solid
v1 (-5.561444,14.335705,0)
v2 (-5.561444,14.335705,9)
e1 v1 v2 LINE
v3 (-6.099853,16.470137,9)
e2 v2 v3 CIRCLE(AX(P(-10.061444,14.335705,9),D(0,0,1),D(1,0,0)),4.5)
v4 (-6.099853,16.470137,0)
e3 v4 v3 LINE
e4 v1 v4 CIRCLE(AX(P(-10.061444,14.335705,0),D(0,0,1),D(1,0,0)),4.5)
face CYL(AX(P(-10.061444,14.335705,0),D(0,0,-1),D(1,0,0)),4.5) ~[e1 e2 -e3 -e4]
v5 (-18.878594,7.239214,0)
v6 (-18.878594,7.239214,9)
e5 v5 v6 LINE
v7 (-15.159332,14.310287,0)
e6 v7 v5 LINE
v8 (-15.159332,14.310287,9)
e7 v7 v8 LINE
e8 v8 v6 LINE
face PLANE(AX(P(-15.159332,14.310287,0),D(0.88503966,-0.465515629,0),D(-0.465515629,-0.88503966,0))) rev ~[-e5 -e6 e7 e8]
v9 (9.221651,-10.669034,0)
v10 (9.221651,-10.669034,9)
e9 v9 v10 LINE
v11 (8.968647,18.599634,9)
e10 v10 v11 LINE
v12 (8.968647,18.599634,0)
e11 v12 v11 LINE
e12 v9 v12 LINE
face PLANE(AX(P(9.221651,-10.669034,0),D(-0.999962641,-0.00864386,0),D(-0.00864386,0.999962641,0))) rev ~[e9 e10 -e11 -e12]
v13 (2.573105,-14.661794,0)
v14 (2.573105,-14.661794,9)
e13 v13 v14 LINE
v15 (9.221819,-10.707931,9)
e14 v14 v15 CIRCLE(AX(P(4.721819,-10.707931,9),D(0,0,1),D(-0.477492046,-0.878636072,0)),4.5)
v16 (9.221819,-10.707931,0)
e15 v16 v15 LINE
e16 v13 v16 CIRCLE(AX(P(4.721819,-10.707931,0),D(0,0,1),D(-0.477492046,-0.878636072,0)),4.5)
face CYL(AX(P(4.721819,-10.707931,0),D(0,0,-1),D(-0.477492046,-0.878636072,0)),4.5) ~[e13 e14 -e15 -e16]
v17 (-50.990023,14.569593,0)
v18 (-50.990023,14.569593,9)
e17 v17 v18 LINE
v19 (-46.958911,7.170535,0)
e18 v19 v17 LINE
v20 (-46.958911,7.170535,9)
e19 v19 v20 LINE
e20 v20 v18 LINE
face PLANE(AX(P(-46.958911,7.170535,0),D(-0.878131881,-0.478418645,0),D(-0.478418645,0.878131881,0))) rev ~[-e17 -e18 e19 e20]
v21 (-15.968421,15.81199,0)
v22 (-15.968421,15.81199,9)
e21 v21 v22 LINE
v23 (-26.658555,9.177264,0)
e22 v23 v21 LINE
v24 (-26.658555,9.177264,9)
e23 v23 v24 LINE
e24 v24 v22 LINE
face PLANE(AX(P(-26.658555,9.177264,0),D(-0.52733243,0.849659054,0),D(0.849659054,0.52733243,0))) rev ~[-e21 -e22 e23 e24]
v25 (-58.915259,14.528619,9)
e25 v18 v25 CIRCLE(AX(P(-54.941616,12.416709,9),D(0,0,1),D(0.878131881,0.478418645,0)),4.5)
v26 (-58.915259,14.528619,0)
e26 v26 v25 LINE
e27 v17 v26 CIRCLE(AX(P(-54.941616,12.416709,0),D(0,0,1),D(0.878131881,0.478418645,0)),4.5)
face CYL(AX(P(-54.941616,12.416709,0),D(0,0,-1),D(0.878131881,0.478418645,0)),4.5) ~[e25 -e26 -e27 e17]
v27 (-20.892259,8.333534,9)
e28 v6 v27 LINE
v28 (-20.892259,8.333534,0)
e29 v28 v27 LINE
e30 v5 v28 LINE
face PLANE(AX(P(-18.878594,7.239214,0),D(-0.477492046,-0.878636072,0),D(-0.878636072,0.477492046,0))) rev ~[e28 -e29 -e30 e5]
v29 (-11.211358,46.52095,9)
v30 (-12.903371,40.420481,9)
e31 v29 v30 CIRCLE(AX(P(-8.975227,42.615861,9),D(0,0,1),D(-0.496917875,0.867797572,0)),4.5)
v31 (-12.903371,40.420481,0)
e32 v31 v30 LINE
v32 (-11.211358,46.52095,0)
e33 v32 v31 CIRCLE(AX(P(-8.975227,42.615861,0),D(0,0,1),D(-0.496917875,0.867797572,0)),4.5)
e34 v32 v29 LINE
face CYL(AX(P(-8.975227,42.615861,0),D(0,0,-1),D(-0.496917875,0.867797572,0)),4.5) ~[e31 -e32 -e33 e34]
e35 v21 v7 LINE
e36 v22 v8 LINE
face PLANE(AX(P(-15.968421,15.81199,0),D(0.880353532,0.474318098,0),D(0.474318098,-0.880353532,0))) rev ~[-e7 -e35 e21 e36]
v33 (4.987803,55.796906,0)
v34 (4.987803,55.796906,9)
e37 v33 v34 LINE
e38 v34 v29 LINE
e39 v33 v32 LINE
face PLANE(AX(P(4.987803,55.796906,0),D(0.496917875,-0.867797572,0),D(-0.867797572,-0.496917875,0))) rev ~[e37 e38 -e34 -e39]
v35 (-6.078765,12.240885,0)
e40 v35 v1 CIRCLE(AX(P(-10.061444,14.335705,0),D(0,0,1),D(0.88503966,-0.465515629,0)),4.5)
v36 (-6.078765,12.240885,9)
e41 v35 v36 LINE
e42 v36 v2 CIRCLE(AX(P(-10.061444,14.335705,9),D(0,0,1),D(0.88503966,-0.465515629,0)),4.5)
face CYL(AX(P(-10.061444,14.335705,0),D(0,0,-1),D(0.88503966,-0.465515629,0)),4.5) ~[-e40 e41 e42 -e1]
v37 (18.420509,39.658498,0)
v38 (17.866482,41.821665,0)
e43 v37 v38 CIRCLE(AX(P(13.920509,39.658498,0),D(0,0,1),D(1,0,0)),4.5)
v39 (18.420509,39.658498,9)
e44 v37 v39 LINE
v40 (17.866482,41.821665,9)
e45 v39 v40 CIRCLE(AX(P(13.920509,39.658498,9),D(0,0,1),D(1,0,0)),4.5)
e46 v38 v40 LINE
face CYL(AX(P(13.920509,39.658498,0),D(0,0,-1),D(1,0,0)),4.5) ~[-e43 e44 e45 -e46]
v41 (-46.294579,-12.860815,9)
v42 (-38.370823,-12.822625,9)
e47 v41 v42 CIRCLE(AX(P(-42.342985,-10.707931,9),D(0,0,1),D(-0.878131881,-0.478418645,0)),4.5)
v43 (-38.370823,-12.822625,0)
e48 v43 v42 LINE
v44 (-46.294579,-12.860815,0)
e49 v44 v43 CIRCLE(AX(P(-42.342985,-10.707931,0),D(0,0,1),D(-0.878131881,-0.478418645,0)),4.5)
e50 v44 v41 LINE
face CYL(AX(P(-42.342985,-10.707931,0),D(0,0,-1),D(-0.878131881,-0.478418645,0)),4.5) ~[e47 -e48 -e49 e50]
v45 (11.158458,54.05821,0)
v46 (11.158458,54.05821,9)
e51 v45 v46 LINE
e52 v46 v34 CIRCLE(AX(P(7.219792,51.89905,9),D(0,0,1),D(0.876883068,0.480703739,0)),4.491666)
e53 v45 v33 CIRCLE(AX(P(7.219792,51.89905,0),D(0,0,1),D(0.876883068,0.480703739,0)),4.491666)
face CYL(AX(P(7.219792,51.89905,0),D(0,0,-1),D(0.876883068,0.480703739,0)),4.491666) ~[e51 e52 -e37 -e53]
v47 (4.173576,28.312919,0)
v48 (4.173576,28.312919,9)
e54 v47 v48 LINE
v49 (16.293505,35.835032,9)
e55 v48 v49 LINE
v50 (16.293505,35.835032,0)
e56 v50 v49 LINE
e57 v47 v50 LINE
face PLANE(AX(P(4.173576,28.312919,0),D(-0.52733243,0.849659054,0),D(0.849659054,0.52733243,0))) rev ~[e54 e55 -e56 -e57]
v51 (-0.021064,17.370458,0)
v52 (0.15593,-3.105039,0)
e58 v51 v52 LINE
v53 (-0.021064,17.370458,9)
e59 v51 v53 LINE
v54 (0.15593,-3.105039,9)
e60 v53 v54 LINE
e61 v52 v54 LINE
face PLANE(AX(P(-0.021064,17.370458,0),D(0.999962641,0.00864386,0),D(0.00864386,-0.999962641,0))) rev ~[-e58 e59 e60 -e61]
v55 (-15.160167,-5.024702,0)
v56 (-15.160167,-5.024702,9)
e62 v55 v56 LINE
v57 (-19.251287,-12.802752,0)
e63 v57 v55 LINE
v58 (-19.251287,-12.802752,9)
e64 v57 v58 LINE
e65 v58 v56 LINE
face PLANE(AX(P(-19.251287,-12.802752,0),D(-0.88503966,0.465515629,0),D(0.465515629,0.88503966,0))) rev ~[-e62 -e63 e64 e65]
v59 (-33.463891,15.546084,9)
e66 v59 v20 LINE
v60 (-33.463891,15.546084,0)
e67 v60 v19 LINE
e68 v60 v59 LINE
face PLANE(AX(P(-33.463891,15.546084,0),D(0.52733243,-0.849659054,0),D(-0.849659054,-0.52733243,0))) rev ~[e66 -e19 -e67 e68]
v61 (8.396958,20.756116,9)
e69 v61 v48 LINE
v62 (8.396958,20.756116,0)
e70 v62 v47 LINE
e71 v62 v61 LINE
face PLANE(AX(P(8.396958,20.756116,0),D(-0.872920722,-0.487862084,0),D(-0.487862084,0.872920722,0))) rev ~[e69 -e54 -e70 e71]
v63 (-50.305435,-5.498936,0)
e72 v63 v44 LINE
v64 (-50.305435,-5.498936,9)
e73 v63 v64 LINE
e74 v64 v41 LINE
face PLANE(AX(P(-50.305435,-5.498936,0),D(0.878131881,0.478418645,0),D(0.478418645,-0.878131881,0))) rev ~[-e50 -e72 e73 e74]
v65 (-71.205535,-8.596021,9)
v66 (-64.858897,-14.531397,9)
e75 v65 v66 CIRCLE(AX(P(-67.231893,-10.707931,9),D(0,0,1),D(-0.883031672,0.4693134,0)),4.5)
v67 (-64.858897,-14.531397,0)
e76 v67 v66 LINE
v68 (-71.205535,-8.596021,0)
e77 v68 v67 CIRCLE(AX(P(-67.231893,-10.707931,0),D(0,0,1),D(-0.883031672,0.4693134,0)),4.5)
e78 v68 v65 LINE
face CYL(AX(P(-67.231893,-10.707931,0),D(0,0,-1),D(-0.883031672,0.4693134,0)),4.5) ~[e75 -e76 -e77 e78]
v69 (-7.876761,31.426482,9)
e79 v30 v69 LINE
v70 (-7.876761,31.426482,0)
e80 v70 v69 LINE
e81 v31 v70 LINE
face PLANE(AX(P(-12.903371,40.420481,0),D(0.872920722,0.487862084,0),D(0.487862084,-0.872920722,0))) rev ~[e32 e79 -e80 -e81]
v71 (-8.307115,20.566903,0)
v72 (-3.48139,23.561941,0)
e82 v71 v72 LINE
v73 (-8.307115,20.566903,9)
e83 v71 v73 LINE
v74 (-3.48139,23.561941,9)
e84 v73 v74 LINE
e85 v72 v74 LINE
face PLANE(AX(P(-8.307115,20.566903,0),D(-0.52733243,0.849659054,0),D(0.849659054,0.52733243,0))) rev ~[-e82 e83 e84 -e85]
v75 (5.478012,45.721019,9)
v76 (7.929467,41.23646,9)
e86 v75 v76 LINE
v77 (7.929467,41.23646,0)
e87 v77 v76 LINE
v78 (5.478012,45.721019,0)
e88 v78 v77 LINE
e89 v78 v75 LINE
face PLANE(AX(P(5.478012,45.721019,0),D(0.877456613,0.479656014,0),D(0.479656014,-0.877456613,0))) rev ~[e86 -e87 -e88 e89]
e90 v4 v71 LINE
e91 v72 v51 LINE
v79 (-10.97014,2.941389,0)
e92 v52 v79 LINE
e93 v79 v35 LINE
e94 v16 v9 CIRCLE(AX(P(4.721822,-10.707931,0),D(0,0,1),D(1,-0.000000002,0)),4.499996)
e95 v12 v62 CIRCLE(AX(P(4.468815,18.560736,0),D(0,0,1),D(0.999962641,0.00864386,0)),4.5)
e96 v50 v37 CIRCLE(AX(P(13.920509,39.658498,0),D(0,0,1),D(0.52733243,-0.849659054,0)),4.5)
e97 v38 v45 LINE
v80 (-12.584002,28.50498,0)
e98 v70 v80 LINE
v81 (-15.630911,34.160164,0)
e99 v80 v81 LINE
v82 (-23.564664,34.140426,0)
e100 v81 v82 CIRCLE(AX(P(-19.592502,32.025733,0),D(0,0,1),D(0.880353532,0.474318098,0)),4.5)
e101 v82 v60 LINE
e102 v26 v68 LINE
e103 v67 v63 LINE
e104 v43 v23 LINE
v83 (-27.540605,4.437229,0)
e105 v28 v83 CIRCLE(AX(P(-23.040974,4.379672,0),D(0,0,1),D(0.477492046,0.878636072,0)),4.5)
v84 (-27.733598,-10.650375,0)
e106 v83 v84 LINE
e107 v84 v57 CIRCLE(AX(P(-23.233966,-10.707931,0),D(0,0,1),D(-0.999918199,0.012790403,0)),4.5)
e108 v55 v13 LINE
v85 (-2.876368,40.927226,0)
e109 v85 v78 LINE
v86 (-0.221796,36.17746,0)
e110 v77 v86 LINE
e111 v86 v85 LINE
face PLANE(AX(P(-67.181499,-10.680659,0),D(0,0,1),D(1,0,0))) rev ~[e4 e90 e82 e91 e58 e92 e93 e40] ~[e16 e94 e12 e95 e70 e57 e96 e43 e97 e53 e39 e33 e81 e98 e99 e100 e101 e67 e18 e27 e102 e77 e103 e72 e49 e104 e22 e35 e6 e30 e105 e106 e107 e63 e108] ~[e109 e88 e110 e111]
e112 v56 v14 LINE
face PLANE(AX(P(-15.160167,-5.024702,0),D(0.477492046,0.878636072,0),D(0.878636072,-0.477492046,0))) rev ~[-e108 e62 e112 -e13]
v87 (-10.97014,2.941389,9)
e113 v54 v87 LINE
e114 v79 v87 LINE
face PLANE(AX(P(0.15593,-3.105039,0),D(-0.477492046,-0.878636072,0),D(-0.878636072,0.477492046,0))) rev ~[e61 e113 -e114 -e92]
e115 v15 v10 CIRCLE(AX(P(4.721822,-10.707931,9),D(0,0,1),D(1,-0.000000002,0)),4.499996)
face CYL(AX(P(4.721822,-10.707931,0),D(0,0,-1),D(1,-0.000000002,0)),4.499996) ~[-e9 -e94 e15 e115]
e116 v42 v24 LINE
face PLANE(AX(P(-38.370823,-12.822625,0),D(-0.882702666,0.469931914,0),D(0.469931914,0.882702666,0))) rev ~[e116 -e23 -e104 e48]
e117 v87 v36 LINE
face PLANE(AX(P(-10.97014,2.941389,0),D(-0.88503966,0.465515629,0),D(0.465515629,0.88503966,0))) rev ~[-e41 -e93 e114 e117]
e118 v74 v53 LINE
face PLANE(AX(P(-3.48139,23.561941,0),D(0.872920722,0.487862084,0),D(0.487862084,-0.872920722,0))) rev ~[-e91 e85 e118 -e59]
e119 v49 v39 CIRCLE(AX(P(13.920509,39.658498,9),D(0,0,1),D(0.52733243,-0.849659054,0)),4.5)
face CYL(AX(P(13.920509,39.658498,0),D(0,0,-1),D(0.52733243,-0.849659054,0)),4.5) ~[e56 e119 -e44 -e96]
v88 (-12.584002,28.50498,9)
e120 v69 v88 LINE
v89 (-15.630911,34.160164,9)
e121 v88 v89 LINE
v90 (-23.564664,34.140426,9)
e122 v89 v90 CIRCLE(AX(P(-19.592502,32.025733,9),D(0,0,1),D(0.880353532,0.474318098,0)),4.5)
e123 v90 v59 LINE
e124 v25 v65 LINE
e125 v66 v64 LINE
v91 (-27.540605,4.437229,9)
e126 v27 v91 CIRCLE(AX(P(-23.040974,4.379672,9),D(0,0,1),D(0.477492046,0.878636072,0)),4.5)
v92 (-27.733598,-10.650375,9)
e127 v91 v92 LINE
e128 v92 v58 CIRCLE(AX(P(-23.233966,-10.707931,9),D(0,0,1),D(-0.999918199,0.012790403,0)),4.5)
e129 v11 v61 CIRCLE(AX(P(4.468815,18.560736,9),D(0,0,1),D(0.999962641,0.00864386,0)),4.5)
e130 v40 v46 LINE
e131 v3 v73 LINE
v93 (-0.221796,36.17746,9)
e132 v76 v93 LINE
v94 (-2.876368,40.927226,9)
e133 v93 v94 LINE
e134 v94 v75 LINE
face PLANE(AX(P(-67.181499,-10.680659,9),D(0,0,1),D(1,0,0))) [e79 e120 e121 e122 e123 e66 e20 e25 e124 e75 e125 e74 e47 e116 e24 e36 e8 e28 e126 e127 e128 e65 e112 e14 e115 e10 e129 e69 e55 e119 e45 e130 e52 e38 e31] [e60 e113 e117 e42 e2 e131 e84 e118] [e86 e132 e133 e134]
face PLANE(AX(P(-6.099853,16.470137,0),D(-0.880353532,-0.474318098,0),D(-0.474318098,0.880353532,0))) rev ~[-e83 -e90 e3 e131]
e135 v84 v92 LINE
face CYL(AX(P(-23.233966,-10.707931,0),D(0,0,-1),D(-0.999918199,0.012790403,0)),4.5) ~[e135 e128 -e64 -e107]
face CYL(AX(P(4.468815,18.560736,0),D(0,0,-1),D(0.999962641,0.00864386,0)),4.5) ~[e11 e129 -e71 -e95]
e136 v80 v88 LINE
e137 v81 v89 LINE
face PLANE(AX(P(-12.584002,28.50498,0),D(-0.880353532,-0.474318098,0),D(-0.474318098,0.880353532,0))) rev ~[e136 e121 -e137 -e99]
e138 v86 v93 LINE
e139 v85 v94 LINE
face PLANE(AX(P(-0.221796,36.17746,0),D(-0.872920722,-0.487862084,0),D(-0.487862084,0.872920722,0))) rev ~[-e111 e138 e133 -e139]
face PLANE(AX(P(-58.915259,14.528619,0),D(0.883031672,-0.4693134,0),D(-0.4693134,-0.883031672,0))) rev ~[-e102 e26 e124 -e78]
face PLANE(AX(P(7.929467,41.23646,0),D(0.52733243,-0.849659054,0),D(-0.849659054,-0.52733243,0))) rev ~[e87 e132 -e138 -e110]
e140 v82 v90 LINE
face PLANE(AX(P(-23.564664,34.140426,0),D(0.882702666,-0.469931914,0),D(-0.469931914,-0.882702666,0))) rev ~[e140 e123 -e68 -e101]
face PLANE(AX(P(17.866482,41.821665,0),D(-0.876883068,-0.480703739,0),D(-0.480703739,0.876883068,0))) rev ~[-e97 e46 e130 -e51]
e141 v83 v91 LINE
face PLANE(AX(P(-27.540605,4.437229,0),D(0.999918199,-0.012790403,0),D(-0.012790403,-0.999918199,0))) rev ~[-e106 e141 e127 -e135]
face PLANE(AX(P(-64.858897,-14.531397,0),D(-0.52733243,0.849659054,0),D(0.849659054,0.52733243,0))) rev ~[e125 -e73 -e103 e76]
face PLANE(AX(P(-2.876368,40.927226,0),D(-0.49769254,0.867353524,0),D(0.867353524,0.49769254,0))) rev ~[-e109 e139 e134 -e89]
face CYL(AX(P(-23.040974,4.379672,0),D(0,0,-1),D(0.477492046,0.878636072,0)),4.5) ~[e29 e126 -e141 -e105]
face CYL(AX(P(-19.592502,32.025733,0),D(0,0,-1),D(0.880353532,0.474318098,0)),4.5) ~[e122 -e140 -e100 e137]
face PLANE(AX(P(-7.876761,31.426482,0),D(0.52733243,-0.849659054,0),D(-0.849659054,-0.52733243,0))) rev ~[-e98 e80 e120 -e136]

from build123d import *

# Parameters (mm, degrees)
F1_DEPTH = 9


with BuildPart() as f1:
    # F0 (on Top) → F1 (new body)
    with BuildSketch(Plane.XY):
        with BuildLine():
            ThreePointArc((-69.6048887702, -6.8844657511), (-70.5185796828, -7.6342220802), (-71.2055353566, -8.596021196))
            ThreePointArc((-71.2055353566, -8.596021196), (-70.3056022489, -13.9946183424), (-64.8588968993, -14.5313972377))
            ThreePointArc((-64.8588968993, -14.5313972377), (-63.9452059866, -13.7816409086), (-63.2582503128, -12.8198417928))
            ThreePointArc((-63.2582503128, -12.8198417928), (-62.8654645834, -11.7961889666), (-62.7318928347, -10.7079314944))
            ThreePointArc((-62.7318928347, -10.7079314944), (-65.0442550344, -6.7754715957), (-69.6048887702, -6.8844657511))
        make_face()
        with BuildLine():
            Line((-63.2582503128, -12.8198417928), (-55.4270514125, 1.9148678069))
            Line((-55.4270514125, 1.9148678069), (-69.6048887702, -6.8844657511))
            ThreePointArc((-69.6048887702, -6.8844657511), (-65.0442550344, -6.7754715957), (-62.7318928347, -10.7079314944))
            ThreePointArc((-62.7318928347, -10.7079314944), (-62.8654645834, -11.7961889666), (-63.2582503128, -12.8198417928))
        make_face()
        with BuildLine():
            ThreePointArc((-58.8932094419, 10.2638252445), (-59.4415558397, 12.3934443823), (-58.9152585008, 14.5286194466))
            Line((-58.9152585008, 14.5286194466), (-71.2055353566, -8.596021196))
            ThreePointArc((-71.2055353566, -8.596021196), (-70.5185796828, -7.6342220802), (-69.6048887702, -6.8844657511))
            Line((-69.6048887702, -6.8844657511), (-55.4270514125, 1.9148678069))
            Line((-55.4270514125, 1.9148678069), (-54.8925209734, 2.9206079104))
            Line((-54.8925209734, 2.9206079104), (-58.8932094419, 10.2638252445))
        make_face()
        with BuildLine():
            Line((-54.8925209734, 2.9206079104), (-50.967973457, 10.3047988498))
            ThreePointArc((-50.967973457, 10.3047988498), (-54.918351213, 7.9167692874), (-58.8932094419, 10.2638252445))
            Line((-58.8932094419, 10.2638252445), (-54.8925209734, 2.9206079104))
        make_face()
        with BuildLine():
            ThreePointArc((-50.967973457, 10.3047988498), (-50.5751877275, 11.328451676), (-50.4416159789, 12.4167091482))
            ThreePointArc((-50.4416159789, 12.4167091482), (-50.5808723162, 13.5275262835), (-50.9900225159, 14.5695930519))
            ThreePointArc((-50.9900225159, 14.5695930519), (-54.9648807448, 16.916649009), (-58.9152585008, 14.5286194466))
            ThreePointArc((-58.9152585008, 14.5286194466), (-59.4415558397, 12.3934443823), (-58.8932094419, 10.2638252445))
            ThreePointArc((-58.8932094419, 10.2638252445), (-54.918351213, 7.9167692874), (-50.967973457, 10.3047988498))
        make_face()
        with BuildLine():
            ThreePointArc((-50.9900225159, 14.5695930519), (-50.5808723162, 13.5275262835), (-50.4416159789, 12.4167091482))
            ThreePointArc((-50.4416159789, 12.4167091482), (-50.5751877275, 11.328451676), (-50.967973457, 10.3047988498))
            Line((-50.967973457, 10.3047988498), (-54.8925209734, 2.9206079104))
            Line((-54.8925209734, 2.9206079104), (-54.6181097925, 2.4169293671))
            Line((-54.6181097925, 2.4169293671), (-46.9589111027, 7.1705347555))
            Line((-46.9589111027, 7.1705347555), (-50.9900225159, 14.5695930519))
        make_face()
        Polygon((-42.646235985, -0.7453304586), (-46.9589111027, 7.1705347555), (-54.6181097925, 2.4169293671), (-50.3054346748, -5.498935847), align=None)
        Polygon((-54.6181097925, 2.4169293671), (-54.8925209734, 2.9206079104), (-55.4270514125, 1.9148678069), align=None)
        with BuildLine():
            Line((-50.3054346748, -5.498935847), (-54.6181097925, 2.4169293671))
            Line((-54.6181097925, 2.4169293671), (-55.4270514125, 1.9148678069))
            Line((-55.4270514125, 1.9148678069), (-63.2582503128, -12.8198417928))
            ThreePointArc((-63.2582503128, -12.8198417928), (-63.9452059866, -13.7816409086), (-64.8588968993, -14.5313972377))
            Line((-64.8588968993, -14.5313972377), (-50.3054346748, -5.498935847))
        make_face()
        Polygon((-33.4638913069, 15.546084394), (-46.9589111027, 7.1705347555), (-42.646235985, -0.7453304586), (-41.8858454209, -0.2734016278), align=None)
        with BuildLine():
            Line((-42.3887241717, -1.2179904086), (-42.646235985, -0.7453304586))
            Line((-42.646235985, -0.7453304586), (-50.3054346748, -5.498935847))
            Line((-50.3054346748, -5.498935847), (-46.294578767, -12.8608153981))
            ThreePointArc((-46.294578767, -12.8608153981), (-46.842933038, -10.7296199867), (-46.3151472997, -8.5932378807))
            Line((-46.3151472997, -8.5932378807), (-42.3887241717, -1.2179904086))
        make_face()
        Polygon((-41.8858454209, -0.2734016278), (-42.646235985, -0.7453304586), (-42.3887241717, -1.2179904086), align=None)
        with BuildLine():
            Line((-38.3913918409, -8.5550475907), (-42.3887241717, -1.2179904086))
            Line((-42.3887241717, -1.2179904086), (-46.3151472997, -8.5932378807))
            ThreePointArc((-46.3151472997, -8.5932378807), (-42.3646737963, -6.2079837603), (-38.3913918409, -8.5550475907))
        make_face()
        with BuildLine():
            Line((-41.8858454209, -0.2734016278), (-42.3887241717, -1.2179904086))
            Line((-42.3887241717, -1.2179904086), (-38.3913918409, -8.5550475907))
            ThreePointArc((-38.3913918409, -8.5550475907), (-37.9822416413, -9.5971143591), (-37.842985304, -10.7079314944))
            ThreePointArc((-37.842985304, -10.7079314944), (-37.9769385234, -11.7977184046), (-38.3708233082, -12.822625108))
            Line((-38.3708233082, -12.822625108), (-26.6585553592, 9.1772642994))
            Line((-26.6585553592, 9.1772642994), (-41.8858454209, -0.2734016278))
        make_face()
        Polygon((-20.2453090448, 23.7500658302), (-33.4638913069, 15.546084394), (-41.8858454209, -0.2734016278), (-26.6585553592, 9.1772642994), (-19.5687892579, 22.4944178032), align=None)
        with BuildLine():
            ThreePointArc((-37.842985304, -10.7079314944), (-37.9822416413, -9.5971143591), (-38.3913918409, -8.5550475907))
            ThreePointArc((-38.3913918409, -8.5550475907), (-42.3646737963, -6.2079837603), (-46.3151472997, -8.5932378807))
            ThreePointArc((-46.3151472997, -8.5932378807), (-46.842933038, -10.7296199867), (-46.294578767, -12.8608153981))
            ThreePointArc((-46.294578767, -12.8608153981), (-42.3212968117, -15.2078792285), (-38.3708233082, -12.822625108))
            ThreePointArc((-38.3708233082, -12.822625108), (-37.9769385234, -11.7977184046), (-37.842985304, -10.7079314944))
        make_face()
        with BuildLine():
            ThreePointArc((-27.216644297, -8.613111165), (-27.5957324364, -9.6011379034), (-27.7335977255, -10.650374681))
            ThreePointArc((-27.7335977255, -10.650374681), (-24.3407594189, -15.0696981029), (-19.2512873589, -12.8027518237))
            ThreePointArc((-19.2512873589, -12.8027518237), (-18.8721992194, -11.8147250853), (-18.7343339304, -10.7654883078))
            ThreePointArc((-18.7343339304, -10.7654883078), (-18.7340578545, -10.7367104896), (-18.7339658279, -10.7079314944))
            ThreePointArc((-18.7339658279, -10.7079314944), (-22.1550898181, -6.3391757728), (-27.216644297, -8.613111165))
        make_face()
        with BuildLine():
            Line((-18.6367336981, -3.1353730797), (-23.0686211662, -0.7268775915))
            Line((-23.0686211662, -0.7268775915), (-27.216644297, -8.613111165))
            ThreePointArc((-27.216644297, -8.613111165), (-22.1550898181, -6.3391757728), (-18.7339658279, -10.7079314944))
            ThreePointArc((-18.7339658279, -10.7079314944), (-18.7340578545, -10.7367104896), (-18.7343339304, -10.7654883078))
            Line((-18.7343339304, -10.7654883078), (-18.6367336981, -3.1353730797))
        make_face()
        with BuildLine():
            ThreePointArc((-25.1896877217, 0.4258094445), (-26.9233693413, 2.1043690059), (-27.5406054129, 4.4372285797))
            Line((-27.5406054129, 4.4372285797), (-27.7335977255, -10.650374681))
            ThreePointArc((-27.7335977255, -10.650374681), (-27.5957324364, -9.6011379034), (-27.216644297, -8.613111165))
            Line((-27.216644297, -8.613111165), (-23.0686211662, -0.7268775915))
            Line((-23.0686211662, -0.7268775915), (-25.1896877217, 0.4258094445))
        make_face()
        with BuildLine():
            Line((-23.0686211662, -0.7268775915), (-22.744442151, -0.1105475101))
            ThreePointArc((-22.744442151, -0.1105475101), (-24.0051130362, -0.0158299098), (-25.1896877217, 0.4258094445))
            Line((-25.1896877217, 0.4258094445), (-23.0686211662, -0.7268775915))
        make_face()
        with BuildLine():
            Line((-22.744442151, -0.1105475101), (-19.1730228604, 6.6794451748))
            ThreePointArc((-19.1730228604, 6.6794451748), (-19.9210269539, 7.6224997687), (-20.8922593091, 8.3335340881))
            ThreePointArc((-20.8922593091, 8.3335340881), (-25.3162762758, 8.2620675921), (-27.5406054129, 4.4372285797))
            ThreePointArc((-27.5406054129, 4.4372285797), (-26.9233693413, 2.1043690059), (-25.1896877217, 0.4258094445))
            ThreePointArc((-25.1896877217, 0.4258094445), (-24.0051130362, -0.0158299098), (-22.744442151, -0.1105475101))
        make_face()
        with BuildLine():
            ThreePointArc((-18.5409735154, 4.3796717663), (-18.7018619734, 5.572194733), (-19.1730228604, 6.6794451748))
            Line((-19.1730228604, 6.6794451748), (-22.744442151, -0.1105475101))
            ThreePointArc((-22.744442151, -0.1105475101), (-19.7755608866, 1.2833706886), (-18.5413416179, 4.3221149529))
            ThreePointArc((-18.5413416179, 4.3221149529), (-18.541065542, 4.350892771), (-18.5409735154, 4.3796717663))
        make_face()
        with BuildLine():
            ThreePointArc((-18.5413416179, 4.3221149529), (-19.7755608866, 1.2833706886), (-22.744442151, -0.1105475101))
            Line((-22.744442151, -0.1105475101), (-23.0686211662, -0.7268775915))
            Line((-23.0686211662, -0.7268775915), (-18.6367336981, -3.1353730797))
            Line((-18.6367336981, -3.1353730797), (-18.5413416179, 4.3221149529))
        make_face()
        with BuildLine():
            Line((-10.9701401389, 2.9413892225), (-18.8785941021, 7.2392139816))
            Line((-18.8785941021, 7.2392139816), (-19.1730228604, 6.6794451748))
            ThreePointArc((-19.1730228604, 6.6794451748), (-18.7018619734, 5.572194733), (-18.5409735154, 4.3796717663))
            ThreePointArc((-18.5409735154, 4.3796717663), (-18.541065542, 4.350892771), (-18.5413416179, 4.3221149529))
            Line((-18.5413416179, 4.3221149529), (-18.6367336981, -3.1353730797))
            Line((-18.6367336981, -3.1353730797), (-15.160167203, -5.0247023505))
            Line((-15.160167203, -5.0247023505), (-10.9701401389, 2.9413892225))
        make_face()
        with BuildLine():
            Line((0.1559297945, -3.1050389482), (-10.9701401389, 2.9413892225))
            Line((-10.9701401389, 2.9413892225), (-15.160167203, -5.0247023505))
            Line((-15.160167203, -5.0247023505), (2.5731045027, -14.6617938162))
            ThreePointArc((2.5731045027, -14.6617938162), (0.8640306217, -13.0247118192), (0.2219868238, -10.746828864))
            Line((0.2219868238, -10.746828864), (0.1559297945, -3.1050389482))
        make_face()
        with BuildLine():
            Line((6.8705329153, -6.7540691726), (0.1559297945, -3.1050389482))
            Line((0.1559297945, -3.1050389482), (0.2219868238, -10.746828864))
            ThreePointArc((0.2219868238, -10.746828864), (2.4050383842, -6.8501434071), (6.8705329153, -6.7540691726))
        make_face()
        with BuildLine():
            Line((-19.1730228604, 6.6794451748), (-18.8785941021, 7.2392139816))
            Line((-18.8785941021, 7.2392139816), (-20.8922593091, 8.3335340881))
            ThreePointArc((-20.8922593091, 8.3335340881), (-19.9210269539, 7.6224997687), (-19.1730228604, 6.6794451748))
        make_face()
        with BuildLine():
            Line((-14.0230348329, 12.2012737804), (-15.1593316453, 14.3102865218))
            Line((-15.1593316453, 14.3102865218), (-18.8785941021, 7.2392139816))
            Line((-18.8785941021, 7.2392139816), (-10.9701401389, 2.9413892225))
            Line((-10.9701401389, 2.9413892225), (-6.0787654687, 12.2408848928))
            ThreePointArc((-6.0787654687, 12.2408848928), (-10.0390066586, 9.8357611593), (-14.0230348329, 12.2012737804))
        make_face()
        with BuildLine():
            Line((-14.0441224068, 16.4305255515), (-15.1593316453, 14.3102865218))
            Line((-15.1593316453, 14.3102865218), (-14.0230348329, 12.2012737804))
            ThreePointArc((-14.0230348329, 12.2012737804), (-14.5613880006, 14.3132679429), (-14.0441224068, 16.4305255515))
        make_face()
        with BuildLine():
            Line((-13.2803807774, 17.4802951195), (-15.9684212864, 15.811989548))
            Line((-15.9684212864, 15.811989548), (-15.1593316453, 14.3102865218))
            Line((-15.1593316453, 14.3102865218), (-14.0441224068, 16.4305255515))
            ThreePointArc((-14.0441224068, 16.4305255515), (-13.7003063699, 16.9830964286), (-13.2803807774, 17.4802951195))
        make_face()
        with BuildLine():
            Line((-11.4506321909, 18.6159103571), (-13.2803807774, 17.4802951195))
            ThreePointArc((-13.2803807774, 17.4802951195), (-13.7003063699, 16.9830964286), (-14.0441224068, 16.4305255515))
            ThreePointArc((-14.0441224068, 16.4305255515), (-14.5613880006, 14.3132679429), (-14.0230348329, 12.2012737804))
            ThreePointArc((-14.0230348329, 12.2012737804), (-10.0390066586, 9.8357611593), (-6.0787654687, 12.2408848928))
            ThreePointArc((-6.0787654687, 12.2408848928), (-5.6926882161, 13.2568292123), (-5.5614439378, 14.3357052222))
            ThreePointArc((-5.5614439378, 14.3357052222), (-5.6981218646, 15.4363507082), (-6.0998530426, 16.4701366639))
            ThreePointArc((-6.0998530426, 16.4701366639), (-8.3865110962, 18.5123785367), (-11.4506321909, 18.6159103571))
        make_face()
        Polygon((-18.2366012452, 24.9967503211), (-20.2453090448, 23.7500658302), (-19.5687892579, 22.4944178032), align=None)
        with BuildLine():
            Line((-23.5540924439, 29.8913013515), (-20.2453090448, 23.7500658302))
            Line((-20.2453090448, 23.7500658302), (-18.2366012452, 24.9967503211))
            Line((-18.2366012452, 24.9967503211), (-15.620339553, 29.9110391796))
            ThreePointArc((-15.620339553, 29.9110391796), (-19.5813063486, 27.5257467191), (-23.5540924439, 29.8913013515))
        make_face()
        with BuildLine():
            Line((-23.5646635445, 34.1404264069), (-33.4638913069, 15.546084394))
            Line((-33.4638913069, 15.546084394), (-20.2453090448, 23.7500658302))
            Line((-20.2453090448, 23.7500658302), (-23.5540924439, 29.8913013515))
            ThreePointArc((-23.5540924439, 29.8913013515), (-24.0924876229, 32.0145375931), (-23.5646635445, 34.1404264069))
        make_face()
        with BuildLine():
            ThreePointArc((-15.6309106536, 34.160164235), (-19.6036967489, 36.5257188674), (-23.5646635445, 34.1404264069))
            ThreePointArc((-23.5646635445, 34.1404264069), (-24.0924876229, 32.0145375931), (-23.5540924439, 29.8913013515))
            ThreePointArc((-23.5540924439, 29.8913013515), (-19.5813063486, 27.5257467191), (-15.620339553, 29.9110391796))
            ThreePointArc((-15.620339553, 29.9110391796), (-15.2264547682, 30.9359458831), (-15.0925015488, 32.0257327933))
            ThreePointArc((-15.0925015488, 32.0257327933), (-15.2291794756, 33.1263782793), (-15.6309106536, 34.160164235))
        make_face()
        with BuildLine():
            Line((-15.620339553, 29.9110391796), (-18.2366012452, 24.9967503211))
            Line((-18.2366012452, 24.9967503211), (-12.5840023789, 28.5049795129))
            Line((-12.5840023789, 28.5049795129), (-15.6309106536, 34.160164235))
            ThreePointArc((-15.6309106536, 34.160164235), (-15.2291794756, 33.1263782793), (-15.0925015488, 32.0257327933))
            ThreePointArc((-15.0925015488, 32.0257327933), (-15.2264547682, 30.9359458831), (-15.620339553, 29.9110391796))
        make_face()
        with BuildLine():
            Line((-12.5840023789, 28.5049795129), (-18.2366012452, 24.9967503211))
            Line((-18.2366012452, 24.9967503211), (-19.5687892579, 22.4944178032))
            Line((-19.5687892579, 22.4944178032), (-15.9684212864, 15.811989548))
            Line((-15.9684212864, 15.811989548), (-13.2803807774, 17.4802951195))
            ThreePointArc((-13.2803807774, 17.4802951195), (-12.4344398732, 18.1591709655), (-11.4506321909, 18.6159103571))
            Line((-11.4506321909, 18.6159103571), (-8.3071146204, 20.5669032308))
            Line((-8.3071146204, 20.5669032308), (-12.5840023789, 28.5049795129))
        make_face()
        Polygon((-7.8767613739, 31.4264817629), (-12.5840023789, 28.5049795129), (-8.3071146204, 20.5669032308), (-3.4813896424, 23.5619413787), align=None)
        with BuildLine():
            Line((-12.9033706879, 40.4204814427), (-7.8767613739, 31.4264817629))
            Line((-7.8767613739, 31.4264817629), (-0.2217959499, 36.1774598171))
            Line((-0.2217959499, 36.1774598171), (-2.8763679981, 40.9272262422))
            Line((-2.8763679981, 40.9272262422), (-6.73561101, 38.7127699641))
            ThreePointArc((-6.73561101, 38.7127699641), (-10.1759981621, 38.2790244557), (-12.9033706879, 40.4204814427))
        make_face()
        with BuildLine():
            ThreePointArc((-11.2113578763, 46.5209498956), (-13.3115272854, 43.8185676227), (-12.9033706879, 40.4204814427))
            ThreePointArc((-12.9033706879, 40.4204814427), (-10.1759981621, 38.2790244557), (-6.73561101, 38.7127699641))
            ThreePointArc((-6.73561101, 38.7127699641), (-5.0811117548, 40.3606750133), (-4.4752274396, 42.6158608224))
            ThreePointArc((-4.4752274396, 42.6158608224), (-4.6205377482, 43.7501789839), (-5.0470841913, 44.8112402022))
            ThreePointArc((-5.0470841913, 44.8112402022), (-7.7725206392, 46.9521606682), (-11.2113578763, 46.5209498956))
        make_face()
        with BuildLine():
            Line((-6.73561101, 38.7127699641), (-2.8763679981, 40.9272262422))
            Line((-2.8763679981, 40.9272262422), (-5.0470841913, 44.8112402022))
            ThreePointArc((-5.0470841913, 44.8112402022), (-4.6205377482, 43.7501789839), (-4.4752274396, 42.6158608224))
            ThreePointArc((-4.4752274396, 42.6158608224), (-5.0811117548, 40.3606750133), (-6.73561101, 38.7127699641))
        make_face()
        with BuildLine():
            Line((-5.0470841913, 44.8112402022), (-2.8763679981, 40.9272262422))
            Line((-2.8763679981, 40.9272262422), (5.4780121385, 45.7210185702))
            Line((5.4780121385, 45.7210185702), (3.2785500091, 49.744594914))
            ThreePointArc((3.2785500091, 49.744594914), (2.8971985794, 53.1198072058), (4.9878029423, 55.7969064429))
            Line((4.9878029423, 55.7969064429), (-11.2113578763, 46.5209498956))
            ThreePointArc((-11.2113578763, 46.5209498956), (-7.7725206392, 46.9521606682), (-5.0470841913, 44.8112402022))
        make_face()
        with BuildLine():
            Line((3.2785500091, 49.744594914), (5.4780121385, 45.7210185702))
            Line((5.4780121385, 45.7210185702), (9.4552607777, 48.0031871694))
            ThreePointArc((9.4552607777, 48.0031871694), (6.0009643953, 47.5759114557), (3.2785500091, 49.744594914))
        make_face()
        with BuildLine():
            ThreePointArc((11.158458001, 54.058210215), (8.437967996, 56.2223713499), (4.9878029423, 55.7969064429))
            ThreePointArc((4.9878029423, 55.7969064429), (2.8971985794, 53.1198072058), (3.2785500091, 49.744594914))
            ThreePointArc((3.2785500091, 49.744594914), (6.0009643953, 47.5759114557), (9.4552607777, 48.0031871694))
            ThreePointArc((9.4552607777, 48.0031871694), (11.1066959196, 49.6480403177), (11.7114581441, 51.899049549))
            ThreePointArc((11.7114581441, 51.899049549), (11.5710123736, 53.0134758521), (11.158458001, 54.058210215))
        make_face()
        with BuildLine():
            Line((5.4780121385, 45.7210185702), (7.9294671819, 41.2364601009))
            Line((7.9294671819, 41.2364601009), (11.5475126449, 43.4819639851))
            ThreePointArc((11.5475126449, 43.4819639851), (15.0640613644, 44.0107720188), (17.8664823872, 41.8216650674))
            Line((17.8664823872, 41.8216650674), (11.158458001, 54.058210215))
            ThreePointArc((11.158458001, 54.058210215), (11.5710123736, 53.0134758521), (11.7114581441, 51.899049549))
            ThreePointArc((11.7114581441, 51.899049549), (11.1066959196, 49.6480403177), (9.4552607777, 48.0031871694))
            Line((9.4552607777, 48.0031871694), (5.4780121385, 45.7210185702))
        make_face()
        with BuildLine():
            Line((11.5475126449, 43.4819639851), (7.9294671819, 41.2364601009))
            Line((7.9294671819, 41.2364601009), (9.9719538205, 37.5000461787))
            ThreePointArc((9.9719538205, 37.5000461787), (9.5689185308, 40.8046500821), (11.5475126449, 43.4819639851))
        make_face()
        with BuildLine():
            ThreePointArc((17.8664823872, 41.8216650674), (15.0640613644, 44.0107720188), (11.5475126449, 43.4819639851))
            ThreePointArc((11.5475126449, 43.4819639851), (9.5689185308, 40.8046500821), (9.9719538205, 37.5000461787))
            ThreePointArc((9.9719538205, 37.5000461787), (12.77435674, 35.3069081923), (16.2935045158, 35.8350324985))
            ThreePointArc((16.2935045158, 35.8350324985), (17.852968479, 37.4708604415), (18.4205085803, 39.6584982418))
            ThreePointArc((18.4205085803, 39.6584982418), (18.2798022233, 40.7749922787), (17.8664823872, 41.8216650674))
        make_face()
        with BuildLine():
            Line((7.9294671819, 41.2364601009), (-0.2217959499, 36.1774598171))
            Line((-0.2217959499, 36.1774598171), (4.1735757817, 28.3129194328))
            Line((4.1735757817, 28.3129194328), (16.2935045158, 35.8350324985))
            ThreePointArc((16.2935045158, 35.8350324985), (12.77435674, 35.3069081923), (9.9719538205, 37.5000461787))
            Line((9.9719538205, 37.5000461787), (7.9294671819, 41.2364601009))
        make_face()
        with BuildLine():
            ThreePointArc((-11.4506321909, 18.6159103571), (-12.4344398732, 18.1591709655), (-13.2803807774, 17.4802951195))
            Line((-13.2803807774, 17.4802951195), (-11.4506321909, 18.6159103571))
        make_face()
        Polygon((-0.2217959499, 36.1774598171), (-7.8767613739, 31.4264817629), (-3.4813896424, 23.5619413787), (4.1735757817, 28.3129194328), align=None)
        with BuildLine():
            Line((4.1735757817, 28.3129194328), (-3.4813896424, 23.5619413787))
            Line((-3.4813896424, 23.5619413787), (-0.0210641479, 17.370458324))
            Line((-0.0210641479, 17.370458324), (-0.0310168917, 18.5218388579))
            ThreePointArc((-0.0310168917, 18.5218388579), (3.3156865866, 22.9104827578), (8.3969582417, 20.7561156073))
            Line((8.3969582417, 20.7561156073), (4.1735757817, 28.3129194328))
        make_face()
        with BuildLine():
            ThreePointArc((8.9686468786, 18.5996335972), (8.8185615237, 19.7138646343), (8.3969582417, 20.7561156073))
            ThreePointArc((8.3969582417, 20.7561156073), (3.3156865866, 22.9104827578), (-0.0310168917, 18.5218388579))
            ThreePointArc((-0.0310168917, 18.5218388579), (0.1190684632, 17.4076078208), (0.5406717451, 16.3653568478))
            ThreePointArc((0.5406717451, 16.3653568478), (5.6031331548, 14.2060465361), (8.9688149934, 18.5607362276))
            ThreePointArc((8.9688149934, 18.5607362276), (8.9687729645, 18.580185094), (8.9686468786, 18.5996335972))
        make_face()
        with BuildLine():
            Line((0.5406717451, 16.3653568478), (-0.0210641479, 17.370458324))
            Line((-0.0210641479, 17.370458324), (0.1559297945, -3.1050389482))
            Line((0.1559297945, -3.1050389482), (6.8705329153, -6.7540691726))
            ThreePointArc((6.8705329153, -6.7540691726), (8.5796067963, -8.3911511696), (9.2216505941, -10.6690341248))
            Line((9.2216505941, -10.6690341248), (8.9686468786, 18.5996335972))
            ThreePointArc((8.9686468786, 18.5996335972), (8.9687729645, 18.580185094), (8.9688149934, 18.5607362276))
            ThreePointArc((8.9688149934, 18.5607362276), (5.6031331548, 14.2060465361), (0.5406717451, 16.3653568478))
        make_face()
        with BuildLine():
            ThreePointArc((0.2219868238, -10.746828864), (0.8640306217, -13.0247118192), (2.5731045027, -14.6617938162))
            ThreePointArc((2.5731045027, -14.6617938162), (7.02190415, -14.5756966067), (9.221818709, -10.7079314944))
            ThreePointArc((9.221818709, -10.7079314944), (9.2217766801, -10.6884826279), (9.2216505941, -10.6690341248))
            ThreePointArc((9.2216505941, -10.6690341248), (8.5796067963, -8.3911511696), (6.8705329153, -6.7540691726))
            ThreePointArc((6.8705329153, -6.7540691726), (2.4050383842, -6.8501434071), (0.2219868238, -10.746828864))
        make_face()
        with BuildLine():
            Line((-0.0310168917, 18.5218388579), (-0.0210641479, 17.370458324))
            Line((-0.0210641479, 17.370458324), (0.5406717451, 16.3653568478))
            ThreePointArc((0.5406717451, 16.3653568478), (0.1190684632, 17.4076078208), (-0.0310168917, 18.5218388579))
        make_face()
        with BuildLine():
            Line((-6.0998530426, 16.4701366639), (-8.3071146204, 20.5669032308))
            Line((-8.3071146204, 20.5669032308), (-11.4506321909, 18.6159103571))
            ThreePointArc((-11.4506321909, 18.6159103571), (-8.3865110962, 18.5123785367), (-6.0998530426, 16.4701366639))
        make_face()
        Polygon((-19.5687892579, 22.4944178032), (-26.6585553592, 9.1772642994), (-15.9684212864, 15.811989548), align=None)
        with BuildLine():
            Line((-19.2512873589, -12.8027518237), (-15.160167203, -5.0247023505))
            Line((-15.160167203, -5.0247023505), (-18.6367336981, -3.1353730797))
            Line((-18.6367336981, -3.1353730797), (-18.7343339304, -10.7654883078))
            ThreePointArc((-18.7343339304, -10.7654883078), (-18.8721992194, -11.8147250853), (-19.2512873589, -12.8027518237))
        make_face()
    extrude(amount=F1_DEPTH)


solid = f1.part
